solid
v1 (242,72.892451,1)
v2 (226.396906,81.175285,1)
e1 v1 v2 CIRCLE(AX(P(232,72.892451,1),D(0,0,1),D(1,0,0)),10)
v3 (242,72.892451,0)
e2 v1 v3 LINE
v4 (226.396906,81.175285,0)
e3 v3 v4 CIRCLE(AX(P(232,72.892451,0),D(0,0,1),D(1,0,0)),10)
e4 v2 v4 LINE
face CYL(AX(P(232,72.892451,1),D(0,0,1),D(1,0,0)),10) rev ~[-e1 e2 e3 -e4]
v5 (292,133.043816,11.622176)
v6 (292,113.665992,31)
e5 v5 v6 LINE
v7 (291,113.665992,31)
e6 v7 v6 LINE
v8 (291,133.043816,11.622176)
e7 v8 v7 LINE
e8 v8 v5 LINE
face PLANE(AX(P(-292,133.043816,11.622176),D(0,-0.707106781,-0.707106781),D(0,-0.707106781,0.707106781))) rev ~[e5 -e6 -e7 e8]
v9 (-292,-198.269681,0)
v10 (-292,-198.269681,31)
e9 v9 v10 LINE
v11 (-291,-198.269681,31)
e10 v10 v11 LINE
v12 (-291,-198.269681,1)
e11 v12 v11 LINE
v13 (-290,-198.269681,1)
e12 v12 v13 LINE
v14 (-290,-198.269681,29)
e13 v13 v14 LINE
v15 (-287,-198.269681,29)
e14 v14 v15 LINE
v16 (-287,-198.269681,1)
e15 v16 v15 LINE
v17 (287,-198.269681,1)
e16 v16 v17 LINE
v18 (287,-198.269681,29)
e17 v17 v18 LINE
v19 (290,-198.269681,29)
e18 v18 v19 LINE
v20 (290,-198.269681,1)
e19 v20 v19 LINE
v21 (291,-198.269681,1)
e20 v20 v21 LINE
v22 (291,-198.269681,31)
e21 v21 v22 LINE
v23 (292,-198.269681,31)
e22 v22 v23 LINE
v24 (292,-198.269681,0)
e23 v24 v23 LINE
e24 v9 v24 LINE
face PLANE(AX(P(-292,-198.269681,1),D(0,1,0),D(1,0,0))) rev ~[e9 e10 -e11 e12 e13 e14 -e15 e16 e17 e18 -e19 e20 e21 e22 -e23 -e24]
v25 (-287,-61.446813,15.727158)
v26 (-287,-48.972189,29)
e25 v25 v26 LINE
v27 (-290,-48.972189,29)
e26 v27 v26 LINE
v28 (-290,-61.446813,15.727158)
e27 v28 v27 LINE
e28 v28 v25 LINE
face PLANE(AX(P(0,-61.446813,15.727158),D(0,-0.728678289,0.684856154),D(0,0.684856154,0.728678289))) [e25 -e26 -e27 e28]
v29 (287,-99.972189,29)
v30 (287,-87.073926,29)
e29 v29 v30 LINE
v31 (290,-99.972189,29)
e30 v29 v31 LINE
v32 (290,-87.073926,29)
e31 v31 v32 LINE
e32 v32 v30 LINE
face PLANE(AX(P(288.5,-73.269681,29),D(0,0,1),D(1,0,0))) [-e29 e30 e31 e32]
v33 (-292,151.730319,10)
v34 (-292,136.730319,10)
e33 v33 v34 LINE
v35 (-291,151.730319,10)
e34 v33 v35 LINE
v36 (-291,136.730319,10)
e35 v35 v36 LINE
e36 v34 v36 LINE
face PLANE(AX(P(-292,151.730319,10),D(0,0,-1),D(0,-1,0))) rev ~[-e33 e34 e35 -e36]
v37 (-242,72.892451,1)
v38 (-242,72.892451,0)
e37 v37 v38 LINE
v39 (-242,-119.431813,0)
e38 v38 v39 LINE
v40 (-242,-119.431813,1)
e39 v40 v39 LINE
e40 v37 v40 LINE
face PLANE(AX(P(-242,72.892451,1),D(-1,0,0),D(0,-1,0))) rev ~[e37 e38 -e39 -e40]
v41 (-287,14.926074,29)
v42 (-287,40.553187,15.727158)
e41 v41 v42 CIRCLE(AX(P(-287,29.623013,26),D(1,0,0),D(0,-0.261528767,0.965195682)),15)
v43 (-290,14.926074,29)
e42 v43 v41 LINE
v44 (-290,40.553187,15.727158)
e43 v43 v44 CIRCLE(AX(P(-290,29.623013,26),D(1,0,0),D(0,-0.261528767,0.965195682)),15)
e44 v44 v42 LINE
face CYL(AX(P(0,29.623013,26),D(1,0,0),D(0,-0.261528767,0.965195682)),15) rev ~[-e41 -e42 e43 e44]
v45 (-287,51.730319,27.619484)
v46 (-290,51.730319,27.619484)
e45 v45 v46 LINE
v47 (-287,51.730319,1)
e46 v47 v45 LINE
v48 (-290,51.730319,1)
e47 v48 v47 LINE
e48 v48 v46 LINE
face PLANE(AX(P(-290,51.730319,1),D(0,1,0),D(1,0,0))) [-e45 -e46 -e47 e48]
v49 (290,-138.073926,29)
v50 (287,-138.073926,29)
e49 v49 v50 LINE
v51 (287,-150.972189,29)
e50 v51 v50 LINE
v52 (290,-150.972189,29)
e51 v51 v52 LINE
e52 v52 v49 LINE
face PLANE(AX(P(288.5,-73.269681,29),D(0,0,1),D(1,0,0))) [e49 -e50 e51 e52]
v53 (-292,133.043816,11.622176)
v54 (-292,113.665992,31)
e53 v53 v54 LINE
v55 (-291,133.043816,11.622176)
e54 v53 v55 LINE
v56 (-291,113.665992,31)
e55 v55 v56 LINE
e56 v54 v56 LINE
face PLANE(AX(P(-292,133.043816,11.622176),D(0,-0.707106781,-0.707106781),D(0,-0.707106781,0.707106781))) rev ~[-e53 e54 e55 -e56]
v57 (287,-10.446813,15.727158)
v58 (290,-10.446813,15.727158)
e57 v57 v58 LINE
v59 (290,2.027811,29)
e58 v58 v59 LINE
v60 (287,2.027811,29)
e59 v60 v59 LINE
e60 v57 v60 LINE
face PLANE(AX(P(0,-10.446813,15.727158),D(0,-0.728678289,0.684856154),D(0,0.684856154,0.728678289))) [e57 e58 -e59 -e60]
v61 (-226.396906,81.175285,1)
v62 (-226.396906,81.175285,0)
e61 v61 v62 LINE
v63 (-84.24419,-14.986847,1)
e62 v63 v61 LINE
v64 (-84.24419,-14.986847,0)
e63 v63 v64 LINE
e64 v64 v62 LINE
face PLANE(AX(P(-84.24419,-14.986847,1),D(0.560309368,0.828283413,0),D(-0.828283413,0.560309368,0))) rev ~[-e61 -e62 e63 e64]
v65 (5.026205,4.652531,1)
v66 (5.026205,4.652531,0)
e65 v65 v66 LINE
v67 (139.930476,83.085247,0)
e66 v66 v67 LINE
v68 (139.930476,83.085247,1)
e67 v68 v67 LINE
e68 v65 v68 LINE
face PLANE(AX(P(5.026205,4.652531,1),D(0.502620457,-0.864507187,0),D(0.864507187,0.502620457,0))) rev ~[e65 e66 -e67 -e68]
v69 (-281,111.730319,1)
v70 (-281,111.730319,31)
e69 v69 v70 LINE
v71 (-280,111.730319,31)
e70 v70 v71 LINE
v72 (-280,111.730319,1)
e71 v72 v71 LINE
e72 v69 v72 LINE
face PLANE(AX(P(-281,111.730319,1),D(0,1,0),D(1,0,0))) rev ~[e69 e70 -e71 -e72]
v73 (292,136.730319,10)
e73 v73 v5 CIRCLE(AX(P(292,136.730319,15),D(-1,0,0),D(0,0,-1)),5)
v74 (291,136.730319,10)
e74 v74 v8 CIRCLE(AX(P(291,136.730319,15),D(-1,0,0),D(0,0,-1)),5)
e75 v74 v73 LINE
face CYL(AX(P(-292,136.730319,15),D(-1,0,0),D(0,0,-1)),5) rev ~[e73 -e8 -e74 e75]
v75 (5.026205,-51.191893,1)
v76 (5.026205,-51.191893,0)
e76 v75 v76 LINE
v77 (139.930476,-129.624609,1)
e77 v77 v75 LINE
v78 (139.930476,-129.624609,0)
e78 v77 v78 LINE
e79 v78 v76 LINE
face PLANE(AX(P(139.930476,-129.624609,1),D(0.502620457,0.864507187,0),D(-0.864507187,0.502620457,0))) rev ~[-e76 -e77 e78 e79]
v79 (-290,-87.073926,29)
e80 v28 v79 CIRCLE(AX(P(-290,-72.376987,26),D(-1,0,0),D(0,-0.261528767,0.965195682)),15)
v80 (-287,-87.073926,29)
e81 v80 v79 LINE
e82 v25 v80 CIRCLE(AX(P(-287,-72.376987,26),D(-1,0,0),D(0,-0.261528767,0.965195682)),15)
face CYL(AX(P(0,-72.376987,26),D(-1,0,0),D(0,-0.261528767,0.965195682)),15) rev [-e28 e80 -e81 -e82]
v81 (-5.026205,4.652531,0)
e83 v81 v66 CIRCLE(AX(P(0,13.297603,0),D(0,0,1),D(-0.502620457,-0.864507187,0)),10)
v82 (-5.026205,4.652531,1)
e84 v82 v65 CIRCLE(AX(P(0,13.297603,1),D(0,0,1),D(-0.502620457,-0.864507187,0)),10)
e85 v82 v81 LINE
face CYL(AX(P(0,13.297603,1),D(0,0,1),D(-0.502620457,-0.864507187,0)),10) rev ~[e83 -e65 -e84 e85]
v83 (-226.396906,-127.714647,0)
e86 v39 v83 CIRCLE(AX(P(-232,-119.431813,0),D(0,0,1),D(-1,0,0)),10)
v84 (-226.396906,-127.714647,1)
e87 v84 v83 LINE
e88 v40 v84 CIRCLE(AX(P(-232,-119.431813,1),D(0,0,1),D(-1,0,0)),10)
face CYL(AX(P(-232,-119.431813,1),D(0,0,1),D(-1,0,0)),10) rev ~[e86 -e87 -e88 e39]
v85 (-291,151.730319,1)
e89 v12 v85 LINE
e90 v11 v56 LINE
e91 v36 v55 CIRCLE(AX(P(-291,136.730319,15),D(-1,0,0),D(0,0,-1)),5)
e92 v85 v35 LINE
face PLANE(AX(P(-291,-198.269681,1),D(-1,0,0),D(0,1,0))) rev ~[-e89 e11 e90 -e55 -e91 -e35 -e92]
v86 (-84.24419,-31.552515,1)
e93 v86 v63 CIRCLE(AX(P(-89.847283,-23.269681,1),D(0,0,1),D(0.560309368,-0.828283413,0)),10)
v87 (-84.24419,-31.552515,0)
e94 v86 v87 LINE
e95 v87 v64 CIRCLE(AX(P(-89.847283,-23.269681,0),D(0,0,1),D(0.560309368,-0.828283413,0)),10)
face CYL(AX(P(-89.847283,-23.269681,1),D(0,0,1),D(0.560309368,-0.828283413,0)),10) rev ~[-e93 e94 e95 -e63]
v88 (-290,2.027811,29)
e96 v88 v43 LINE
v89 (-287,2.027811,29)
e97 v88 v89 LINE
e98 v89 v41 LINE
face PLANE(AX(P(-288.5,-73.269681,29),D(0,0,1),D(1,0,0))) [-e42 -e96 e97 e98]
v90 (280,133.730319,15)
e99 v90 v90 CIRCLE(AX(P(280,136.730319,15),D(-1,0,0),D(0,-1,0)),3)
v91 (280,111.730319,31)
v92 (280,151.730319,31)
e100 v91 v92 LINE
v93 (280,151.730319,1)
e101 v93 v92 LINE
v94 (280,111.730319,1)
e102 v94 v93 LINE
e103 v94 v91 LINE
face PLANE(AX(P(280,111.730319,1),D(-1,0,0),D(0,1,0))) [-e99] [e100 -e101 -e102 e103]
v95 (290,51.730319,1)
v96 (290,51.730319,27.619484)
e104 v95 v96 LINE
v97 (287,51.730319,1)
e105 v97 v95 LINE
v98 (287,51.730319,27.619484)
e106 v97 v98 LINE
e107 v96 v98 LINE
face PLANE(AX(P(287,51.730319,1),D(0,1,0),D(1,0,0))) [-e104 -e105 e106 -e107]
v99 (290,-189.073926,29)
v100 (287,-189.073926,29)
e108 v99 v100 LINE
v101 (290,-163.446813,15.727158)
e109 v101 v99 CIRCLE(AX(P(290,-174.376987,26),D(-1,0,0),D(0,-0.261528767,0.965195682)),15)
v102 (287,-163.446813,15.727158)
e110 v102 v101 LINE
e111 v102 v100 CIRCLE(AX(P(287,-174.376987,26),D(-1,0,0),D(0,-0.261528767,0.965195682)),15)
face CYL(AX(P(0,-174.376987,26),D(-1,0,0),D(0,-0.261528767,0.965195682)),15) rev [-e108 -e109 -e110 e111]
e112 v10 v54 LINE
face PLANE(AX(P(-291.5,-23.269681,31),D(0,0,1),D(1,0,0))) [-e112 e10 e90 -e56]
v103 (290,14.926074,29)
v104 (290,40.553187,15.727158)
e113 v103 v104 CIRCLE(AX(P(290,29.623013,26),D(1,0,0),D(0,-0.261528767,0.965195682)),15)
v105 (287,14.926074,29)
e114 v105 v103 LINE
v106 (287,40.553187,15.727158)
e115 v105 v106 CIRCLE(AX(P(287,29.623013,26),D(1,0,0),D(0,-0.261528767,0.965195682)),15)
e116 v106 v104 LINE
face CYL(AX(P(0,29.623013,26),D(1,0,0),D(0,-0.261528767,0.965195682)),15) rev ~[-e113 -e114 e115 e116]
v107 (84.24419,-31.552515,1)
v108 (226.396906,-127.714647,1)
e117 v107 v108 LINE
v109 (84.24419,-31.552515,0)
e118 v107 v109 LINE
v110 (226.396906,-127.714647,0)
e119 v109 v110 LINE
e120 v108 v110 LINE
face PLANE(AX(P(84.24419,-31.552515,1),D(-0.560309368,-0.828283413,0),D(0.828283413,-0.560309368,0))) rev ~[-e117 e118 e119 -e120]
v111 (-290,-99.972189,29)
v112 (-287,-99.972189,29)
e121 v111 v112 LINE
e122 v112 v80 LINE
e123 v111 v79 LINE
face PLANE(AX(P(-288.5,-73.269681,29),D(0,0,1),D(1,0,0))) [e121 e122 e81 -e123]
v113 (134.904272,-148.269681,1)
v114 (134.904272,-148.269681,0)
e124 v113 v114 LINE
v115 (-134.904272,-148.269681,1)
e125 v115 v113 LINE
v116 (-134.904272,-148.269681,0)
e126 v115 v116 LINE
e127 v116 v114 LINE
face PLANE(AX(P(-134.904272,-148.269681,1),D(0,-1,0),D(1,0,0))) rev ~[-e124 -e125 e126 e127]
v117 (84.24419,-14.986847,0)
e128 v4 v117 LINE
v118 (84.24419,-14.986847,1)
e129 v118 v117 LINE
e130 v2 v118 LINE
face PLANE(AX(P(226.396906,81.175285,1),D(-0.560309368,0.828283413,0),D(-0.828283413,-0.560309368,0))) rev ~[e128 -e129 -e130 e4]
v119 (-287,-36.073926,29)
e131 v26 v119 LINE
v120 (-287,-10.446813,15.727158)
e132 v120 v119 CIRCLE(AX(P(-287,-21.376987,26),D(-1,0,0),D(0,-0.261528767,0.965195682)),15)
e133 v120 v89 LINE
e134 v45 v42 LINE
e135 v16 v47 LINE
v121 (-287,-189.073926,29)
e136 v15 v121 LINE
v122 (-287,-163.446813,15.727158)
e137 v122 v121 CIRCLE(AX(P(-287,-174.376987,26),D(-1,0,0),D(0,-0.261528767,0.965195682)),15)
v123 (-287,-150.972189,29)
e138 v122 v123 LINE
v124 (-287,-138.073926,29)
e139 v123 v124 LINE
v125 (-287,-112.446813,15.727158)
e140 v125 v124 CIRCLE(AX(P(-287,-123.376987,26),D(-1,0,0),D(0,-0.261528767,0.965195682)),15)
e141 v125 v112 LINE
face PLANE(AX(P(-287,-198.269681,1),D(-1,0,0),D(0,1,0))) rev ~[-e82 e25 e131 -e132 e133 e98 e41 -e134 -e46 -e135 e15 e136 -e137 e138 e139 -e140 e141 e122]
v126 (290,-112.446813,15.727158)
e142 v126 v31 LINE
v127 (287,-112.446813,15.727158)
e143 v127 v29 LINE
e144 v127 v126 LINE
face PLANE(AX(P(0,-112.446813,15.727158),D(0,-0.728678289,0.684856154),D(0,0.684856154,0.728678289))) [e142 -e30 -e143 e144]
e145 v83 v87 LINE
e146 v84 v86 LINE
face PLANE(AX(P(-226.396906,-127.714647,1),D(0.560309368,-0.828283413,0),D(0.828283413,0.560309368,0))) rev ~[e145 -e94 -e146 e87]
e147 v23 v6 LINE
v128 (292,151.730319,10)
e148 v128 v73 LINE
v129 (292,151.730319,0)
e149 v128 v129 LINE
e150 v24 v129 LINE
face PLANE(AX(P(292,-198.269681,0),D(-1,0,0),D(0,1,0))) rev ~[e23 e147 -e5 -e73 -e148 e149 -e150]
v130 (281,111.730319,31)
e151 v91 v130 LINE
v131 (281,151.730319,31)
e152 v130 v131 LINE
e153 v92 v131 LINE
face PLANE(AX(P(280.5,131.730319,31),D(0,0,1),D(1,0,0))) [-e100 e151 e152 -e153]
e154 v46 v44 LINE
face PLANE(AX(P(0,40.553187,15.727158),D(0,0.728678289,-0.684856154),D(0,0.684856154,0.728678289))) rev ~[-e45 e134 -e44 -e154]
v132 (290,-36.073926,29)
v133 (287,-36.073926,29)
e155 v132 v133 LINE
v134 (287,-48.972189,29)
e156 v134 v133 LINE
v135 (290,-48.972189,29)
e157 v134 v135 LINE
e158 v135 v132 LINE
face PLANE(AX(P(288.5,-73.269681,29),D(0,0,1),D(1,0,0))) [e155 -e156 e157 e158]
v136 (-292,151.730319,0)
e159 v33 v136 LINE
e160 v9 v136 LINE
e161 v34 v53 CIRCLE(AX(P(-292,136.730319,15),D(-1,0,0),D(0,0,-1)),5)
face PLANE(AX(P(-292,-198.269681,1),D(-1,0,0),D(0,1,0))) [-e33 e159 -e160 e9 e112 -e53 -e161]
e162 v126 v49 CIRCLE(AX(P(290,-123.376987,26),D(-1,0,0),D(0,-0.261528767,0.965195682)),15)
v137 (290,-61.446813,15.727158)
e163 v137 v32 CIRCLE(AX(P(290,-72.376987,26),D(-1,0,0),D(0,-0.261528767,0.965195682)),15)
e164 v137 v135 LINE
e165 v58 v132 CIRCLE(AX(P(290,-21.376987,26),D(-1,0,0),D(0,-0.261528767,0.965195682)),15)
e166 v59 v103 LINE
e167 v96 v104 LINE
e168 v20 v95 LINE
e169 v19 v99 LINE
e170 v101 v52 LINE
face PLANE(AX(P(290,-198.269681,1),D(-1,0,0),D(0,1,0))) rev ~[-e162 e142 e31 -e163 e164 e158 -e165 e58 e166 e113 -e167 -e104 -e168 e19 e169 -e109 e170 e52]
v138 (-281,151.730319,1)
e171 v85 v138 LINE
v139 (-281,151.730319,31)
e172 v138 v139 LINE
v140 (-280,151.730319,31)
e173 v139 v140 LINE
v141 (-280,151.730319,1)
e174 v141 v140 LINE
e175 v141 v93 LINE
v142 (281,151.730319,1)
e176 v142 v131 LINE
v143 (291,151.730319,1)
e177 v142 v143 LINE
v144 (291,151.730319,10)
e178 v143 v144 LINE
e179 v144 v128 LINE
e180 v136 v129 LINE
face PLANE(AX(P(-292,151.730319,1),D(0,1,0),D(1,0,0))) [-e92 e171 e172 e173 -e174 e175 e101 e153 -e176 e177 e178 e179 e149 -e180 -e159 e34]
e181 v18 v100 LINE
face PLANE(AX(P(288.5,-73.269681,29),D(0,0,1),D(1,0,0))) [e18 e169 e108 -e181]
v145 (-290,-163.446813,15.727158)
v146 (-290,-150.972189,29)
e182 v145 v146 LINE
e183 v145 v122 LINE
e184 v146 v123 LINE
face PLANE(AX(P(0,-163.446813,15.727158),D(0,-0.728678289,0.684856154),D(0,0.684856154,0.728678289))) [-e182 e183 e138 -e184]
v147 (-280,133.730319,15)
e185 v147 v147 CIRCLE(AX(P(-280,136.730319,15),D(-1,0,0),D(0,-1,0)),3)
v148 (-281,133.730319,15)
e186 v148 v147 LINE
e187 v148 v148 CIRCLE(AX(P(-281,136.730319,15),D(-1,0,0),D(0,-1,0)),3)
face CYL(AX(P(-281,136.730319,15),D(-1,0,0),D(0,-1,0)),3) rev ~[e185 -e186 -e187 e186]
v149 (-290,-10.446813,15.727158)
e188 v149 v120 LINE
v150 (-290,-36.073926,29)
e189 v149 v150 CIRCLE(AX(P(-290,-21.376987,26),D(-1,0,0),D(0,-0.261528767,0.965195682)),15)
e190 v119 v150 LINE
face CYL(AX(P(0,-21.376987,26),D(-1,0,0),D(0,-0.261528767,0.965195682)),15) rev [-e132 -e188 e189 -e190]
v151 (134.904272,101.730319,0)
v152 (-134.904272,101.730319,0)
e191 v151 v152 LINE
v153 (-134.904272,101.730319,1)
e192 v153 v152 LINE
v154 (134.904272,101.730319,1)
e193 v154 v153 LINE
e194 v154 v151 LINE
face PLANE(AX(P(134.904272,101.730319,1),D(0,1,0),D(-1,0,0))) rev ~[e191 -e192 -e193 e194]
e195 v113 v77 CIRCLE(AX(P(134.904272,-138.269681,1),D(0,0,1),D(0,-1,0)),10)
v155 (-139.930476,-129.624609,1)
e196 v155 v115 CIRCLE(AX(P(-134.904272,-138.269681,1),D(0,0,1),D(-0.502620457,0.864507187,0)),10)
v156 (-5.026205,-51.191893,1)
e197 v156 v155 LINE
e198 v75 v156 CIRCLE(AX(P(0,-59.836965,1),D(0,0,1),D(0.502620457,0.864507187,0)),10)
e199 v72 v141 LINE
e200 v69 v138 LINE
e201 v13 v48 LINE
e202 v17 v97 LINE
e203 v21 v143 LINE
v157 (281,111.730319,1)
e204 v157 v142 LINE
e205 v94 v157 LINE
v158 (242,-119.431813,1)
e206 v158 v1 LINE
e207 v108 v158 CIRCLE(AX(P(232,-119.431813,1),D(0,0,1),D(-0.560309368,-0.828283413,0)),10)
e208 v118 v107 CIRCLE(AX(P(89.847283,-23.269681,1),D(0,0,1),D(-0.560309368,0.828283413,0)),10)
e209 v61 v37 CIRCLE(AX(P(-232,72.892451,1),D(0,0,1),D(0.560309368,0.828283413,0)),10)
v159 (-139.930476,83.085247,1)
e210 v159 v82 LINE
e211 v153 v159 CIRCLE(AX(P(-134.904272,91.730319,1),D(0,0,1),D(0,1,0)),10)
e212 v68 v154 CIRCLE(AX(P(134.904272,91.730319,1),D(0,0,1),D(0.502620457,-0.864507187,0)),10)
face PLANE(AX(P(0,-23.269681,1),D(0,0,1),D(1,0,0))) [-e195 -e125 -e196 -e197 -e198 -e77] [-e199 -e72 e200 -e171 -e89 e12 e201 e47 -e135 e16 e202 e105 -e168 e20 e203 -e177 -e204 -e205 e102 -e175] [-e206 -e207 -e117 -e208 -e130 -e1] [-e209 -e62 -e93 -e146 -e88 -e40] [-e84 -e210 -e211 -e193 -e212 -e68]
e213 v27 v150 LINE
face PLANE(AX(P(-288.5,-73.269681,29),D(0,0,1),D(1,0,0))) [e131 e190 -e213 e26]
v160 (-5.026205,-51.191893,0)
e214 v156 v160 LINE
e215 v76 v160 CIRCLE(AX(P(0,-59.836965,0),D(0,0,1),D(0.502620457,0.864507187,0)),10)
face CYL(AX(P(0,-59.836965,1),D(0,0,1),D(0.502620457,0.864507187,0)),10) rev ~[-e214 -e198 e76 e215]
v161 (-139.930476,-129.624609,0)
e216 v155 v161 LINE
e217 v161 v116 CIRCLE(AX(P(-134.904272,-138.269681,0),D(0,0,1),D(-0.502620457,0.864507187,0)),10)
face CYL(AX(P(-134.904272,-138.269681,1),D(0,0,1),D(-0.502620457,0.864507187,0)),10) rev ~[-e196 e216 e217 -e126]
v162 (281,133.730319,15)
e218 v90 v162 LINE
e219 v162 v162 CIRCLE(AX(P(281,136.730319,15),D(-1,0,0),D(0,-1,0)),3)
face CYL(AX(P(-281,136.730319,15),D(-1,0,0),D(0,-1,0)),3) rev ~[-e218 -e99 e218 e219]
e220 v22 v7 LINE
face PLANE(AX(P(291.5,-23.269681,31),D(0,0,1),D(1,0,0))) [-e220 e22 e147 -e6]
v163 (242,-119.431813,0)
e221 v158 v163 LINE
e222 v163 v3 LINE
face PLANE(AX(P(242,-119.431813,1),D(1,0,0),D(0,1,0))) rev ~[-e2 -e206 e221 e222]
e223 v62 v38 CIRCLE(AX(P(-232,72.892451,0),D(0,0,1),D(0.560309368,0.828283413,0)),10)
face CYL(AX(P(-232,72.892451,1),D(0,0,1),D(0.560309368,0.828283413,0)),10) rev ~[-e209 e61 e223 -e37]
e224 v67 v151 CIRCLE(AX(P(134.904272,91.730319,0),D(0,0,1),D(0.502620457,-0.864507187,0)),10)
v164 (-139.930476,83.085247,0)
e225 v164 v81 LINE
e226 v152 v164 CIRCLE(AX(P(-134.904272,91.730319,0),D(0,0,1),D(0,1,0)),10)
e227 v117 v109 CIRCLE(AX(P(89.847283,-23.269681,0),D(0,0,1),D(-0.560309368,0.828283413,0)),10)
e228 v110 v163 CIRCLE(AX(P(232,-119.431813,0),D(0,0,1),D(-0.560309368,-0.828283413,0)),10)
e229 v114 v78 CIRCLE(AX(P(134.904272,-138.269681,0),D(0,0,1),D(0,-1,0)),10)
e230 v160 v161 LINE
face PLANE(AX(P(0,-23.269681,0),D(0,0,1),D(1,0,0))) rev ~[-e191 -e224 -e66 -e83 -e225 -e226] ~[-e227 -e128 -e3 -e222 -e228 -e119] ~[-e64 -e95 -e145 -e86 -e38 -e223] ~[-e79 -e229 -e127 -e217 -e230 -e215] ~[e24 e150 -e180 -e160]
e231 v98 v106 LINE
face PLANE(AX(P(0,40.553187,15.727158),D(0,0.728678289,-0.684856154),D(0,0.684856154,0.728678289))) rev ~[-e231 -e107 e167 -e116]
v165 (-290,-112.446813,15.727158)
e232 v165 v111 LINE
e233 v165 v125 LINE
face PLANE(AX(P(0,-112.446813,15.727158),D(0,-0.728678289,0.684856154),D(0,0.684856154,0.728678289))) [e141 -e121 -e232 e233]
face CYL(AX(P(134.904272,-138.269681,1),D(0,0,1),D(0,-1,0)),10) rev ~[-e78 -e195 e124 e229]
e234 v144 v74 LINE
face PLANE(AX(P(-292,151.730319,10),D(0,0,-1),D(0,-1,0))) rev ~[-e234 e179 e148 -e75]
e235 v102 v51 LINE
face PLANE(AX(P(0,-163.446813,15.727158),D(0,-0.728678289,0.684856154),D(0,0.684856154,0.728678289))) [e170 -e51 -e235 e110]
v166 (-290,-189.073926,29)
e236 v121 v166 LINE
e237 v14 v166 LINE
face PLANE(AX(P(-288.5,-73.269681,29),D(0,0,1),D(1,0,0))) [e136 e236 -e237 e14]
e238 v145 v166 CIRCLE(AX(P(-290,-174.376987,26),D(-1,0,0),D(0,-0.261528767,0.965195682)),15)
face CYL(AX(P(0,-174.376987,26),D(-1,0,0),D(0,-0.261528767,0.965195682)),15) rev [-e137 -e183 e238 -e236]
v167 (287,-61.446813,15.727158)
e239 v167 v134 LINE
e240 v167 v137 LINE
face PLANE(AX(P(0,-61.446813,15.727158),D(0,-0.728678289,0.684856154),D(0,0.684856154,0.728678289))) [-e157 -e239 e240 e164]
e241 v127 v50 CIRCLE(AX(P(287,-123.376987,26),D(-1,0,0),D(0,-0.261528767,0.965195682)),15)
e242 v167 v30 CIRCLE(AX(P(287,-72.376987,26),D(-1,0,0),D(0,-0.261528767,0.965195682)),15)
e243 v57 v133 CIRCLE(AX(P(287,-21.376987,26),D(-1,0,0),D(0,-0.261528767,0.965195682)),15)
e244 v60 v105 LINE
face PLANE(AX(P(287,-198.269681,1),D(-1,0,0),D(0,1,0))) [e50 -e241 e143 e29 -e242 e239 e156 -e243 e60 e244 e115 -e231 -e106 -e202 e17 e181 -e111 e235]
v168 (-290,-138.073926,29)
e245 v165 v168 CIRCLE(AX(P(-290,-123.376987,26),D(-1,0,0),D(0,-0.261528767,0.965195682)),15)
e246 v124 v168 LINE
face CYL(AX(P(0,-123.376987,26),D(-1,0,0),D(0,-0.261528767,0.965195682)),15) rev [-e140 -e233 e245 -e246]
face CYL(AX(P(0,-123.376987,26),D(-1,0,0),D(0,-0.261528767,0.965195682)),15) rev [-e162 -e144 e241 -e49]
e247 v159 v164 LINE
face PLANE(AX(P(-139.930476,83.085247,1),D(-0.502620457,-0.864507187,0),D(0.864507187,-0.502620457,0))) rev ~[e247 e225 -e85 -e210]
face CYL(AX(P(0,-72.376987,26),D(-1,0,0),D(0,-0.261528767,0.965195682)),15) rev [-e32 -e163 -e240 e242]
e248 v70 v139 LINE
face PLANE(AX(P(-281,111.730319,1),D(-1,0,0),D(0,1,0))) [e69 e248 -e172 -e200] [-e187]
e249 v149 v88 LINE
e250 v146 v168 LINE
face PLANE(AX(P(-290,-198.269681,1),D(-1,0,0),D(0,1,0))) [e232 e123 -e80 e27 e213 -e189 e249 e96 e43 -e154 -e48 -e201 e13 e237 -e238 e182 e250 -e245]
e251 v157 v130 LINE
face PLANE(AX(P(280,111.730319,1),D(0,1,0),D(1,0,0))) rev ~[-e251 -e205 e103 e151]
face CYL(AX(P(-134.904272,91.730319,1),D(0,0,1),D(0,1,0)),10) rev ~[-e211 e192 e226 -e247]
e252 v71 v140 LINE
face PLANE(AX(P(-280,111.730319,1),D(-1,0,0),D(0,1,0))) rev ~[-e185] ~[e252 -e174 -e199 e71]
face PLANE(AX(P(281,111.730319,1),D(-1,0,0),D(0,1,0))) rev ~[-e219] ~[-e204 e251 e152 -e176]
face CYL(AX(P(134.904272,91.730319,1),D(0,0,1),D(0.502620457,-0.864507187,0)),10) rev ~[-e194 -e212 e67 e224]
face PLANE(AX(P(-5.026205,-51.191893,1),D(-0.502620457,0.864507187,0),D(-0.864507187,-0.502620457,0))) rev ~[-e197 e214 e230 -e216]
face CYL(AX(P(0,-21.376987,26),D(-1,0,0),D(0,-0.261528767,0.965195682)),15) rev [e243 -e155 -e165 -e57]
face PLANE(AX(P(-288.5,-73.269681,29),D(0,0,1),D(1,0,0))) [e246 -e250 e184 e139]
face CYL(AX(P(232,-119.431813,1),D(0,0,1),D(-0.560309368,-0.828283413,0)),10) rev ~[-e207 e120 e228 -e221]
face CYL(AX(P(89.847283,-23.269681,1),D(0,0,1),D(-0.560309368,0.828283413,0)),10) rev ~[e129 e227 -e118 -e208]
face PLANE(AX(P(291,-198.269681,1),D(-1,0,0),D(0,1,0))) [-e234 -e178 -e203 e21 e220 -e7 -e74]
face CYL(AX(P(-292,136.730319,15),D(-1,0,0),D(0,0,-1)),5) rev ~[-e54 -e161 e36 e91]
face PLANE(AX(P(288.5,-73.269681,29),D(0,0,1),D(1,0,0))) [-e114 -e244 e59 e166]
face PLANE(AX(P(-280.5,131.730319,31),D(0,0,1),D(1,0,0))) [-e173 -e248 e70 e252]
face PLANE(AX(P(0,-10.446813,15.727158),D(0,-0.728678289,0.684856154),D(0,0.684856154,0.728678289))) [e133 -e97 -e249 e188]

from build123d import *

# Parameters (mm, degrees)
F0_W      = 584
F0_H      = 350
F1_DEPTH  = 1
F2_W      = 1
F2_H      = 350
F3_DEPTH  = 30
F5_DEPTH  = 645
F6_W      = 1
F6_H      = 40
F7_DEPTH  = 30
F8_R      = 3
F9_DEPTH  = 565
F10_W     = 3
F10_H     = 250
F11_DEPTH = 28
F13_DEPTH = 291
F15_DEPTH = 25


with BuildPart() as f1:
    # F0 (on Top) → F1 (new body)
    with BuildSketch(Plane.XY):
        with Locations((0, -23.2696812643)):
            Rectangle(F0_W, F0_H)
    extrude(amount=F1_DEPTH)

    # F2 (on face) → F3 (join)
    with BuildSketch(Plane.XY.offset(1)):
        with Locations((-291.5, -23.2696812643)):
            Rectangle(F2_W, F2_H)
        with Locations((291.5, -23.2696812643)):
            Rectangle(F2_W, F2_H)
    extrude(amount=F3_DEPTH)

    # F4 (on face) → F5 (cut)
    with BuildSketch(Plane(origin=(-292, 0, 0), x_dir=(0, -1, 0), z_dir=(-1, 0, 0))):
        with BuildLine():
            Line((-136.7303187357, 15), (-136.7303187357, 10))
            ThreePointArc((-136.7303187357, 10), (-134.7165063478, 10.423477339), (-133.0438155245, 11.6221761335))
            ThreePointArc((-133.0438155245, 11.6221761335), (-132.0702481324, 13.1878901877), (-131.7303187357, 15))
            ThreePointArc((-131.7303187357, 15), (-132.1109210732, 16.9134171618), (-133.1947848298, 18.5355339059))
            Line((-133.1947848298, 18.5355339059), (-136.7303187357, 15))
        make_face()
        with BuildLine():
            Line((-151.7303187357, 10), (-136.7303187357, 10))
            ThreePointArc((-136.7303187357, 10), (-141.3497163983, 16.9134171618), (-133.1947848298, 18.5355339059))
            Line((-133.1947848298, 18.5355339059), (-120.7303187357, 31))
            Line((-120.7303187357, 31), (-151.7303187357, 31))
            Line((-151.7303187357, 31), (-151.7303187357, 10))
        make_face()
        with BuildLine():
            ThreePointArc((-133.1947848298, 18.5355339059), (-141.3497163983, 16.9134171618), (-136.7303187357, 10))
            Line((-136.7303187357, 10), (-136.7303187357, 15))
            Line((-136.7303187357, 15), (-133.1947848298, 18.5355339059))
        make_face()
        with BuildLine():
            ThreePointArc((-131.7303187357, 15), (-132.0702481324, 13.1878901877), (-133.0438155245, 11.6221761335))
            Line((-133.0438155245, 11.6221761335), (-113.6659916579, 31))
            Line((-113.6659916579, 31), (-120.7303187357, 31))
            Line((-120.7303187357, 31), (-133.1947848298, 18.5355339059))
            ThreePointArc((-133.1947848298, 18.5355339059), (-132.1109210732, 16.9134171618), (-131.7303187357, 15))
        make_face()
    extrude(amount=-F5_DEPTH, mode=Mode.SUBTRACT)

    # F6 (on face) → F7 (join)
    with BuildSketch(Plane.XY.offset(1)):
        with Locations((-280.5, 131.7303187357)):
            Rectangle(F6_W, F6_H)
        with Locations((280.5, 131.7303187357)):
            Rectangle(F6_W, F6_H)
    extrude(amount=F7_DEPTH)

    # F8 (on face) → F9 (cut)
    with BuildSketch(Plane(origin=(-281, 0, 0), x_dir=(0, -1, 0), z_dir=(-1, 0, 0))):
        with Locations((-136.7303187357, 15)):
            Circle(F8_R)
    extrude(amount=-F9_DEPTH, mode=Mode.SUBTRACT)

    # F10 (on face) → F11 (join)
    with BuildSketch(Plane.XY.offset(1)):
        with Locations((-288.5, -73.2696812643)):
            Rectangle(F10_W, F10_H)
        with Locations((288.5, -73.2696812643)):
            Rectangle(F10_W, F10_H)
    extrude(amount=F11_DEPTH)

    # F12 (on Right) → F13 (cut, symmetric)
    with BuildSketch(Plane.YZ):
        with BuildLine():
            ThreePointArc((-163.4468129313, 15.7271576906), (-160.4315110244, 20.4751748875), (-159.3769872614, 26))
            ThreePointArc((-159.3769872614, 26), (-165.262273131, 37.9131014568), (-178.2999187708, 40.4779352248))
            ThreePointArc((-178.2999187708, 40.4779352248), (-187.238776022, 18.2815552164), (-163.4468129313, 15.7271576906))
        make_face()
        with BuildLine():
            ThreePointArc((-178.2999187708, 40.4779352248), (-165.262273131, 37.9131014568), (-159.3769872614, 26))
            ThreePointArc((-159.3769872614, 26), (-160.4315110244, 20.4751748875), (-163.4468129313, 15.7271576906))
            Line((-163.4468129313, 15.7271576906), (-125.9341510427, 55.6401556402))
            Line((-125.9341510427, 55.6401556402), (-178.2999187708, 40.4779352248))
        make_face()
        with BuildLine():
            ThreePointArc((-112.4468129313, 15.7271576906), (-109.4315110244, 20.4751748875), (-108.3769872614, 26))
            ThreePointArc((-108.3769872614, 26), (-114.262273131, 37.9131014568), (-127.2999187708, 40.4779352248))
            ThreePointArc((-127.2999187708, 40.4779352248), (-136.238776022, 18.2815552164), (-112.4468129313, 15.7271576906))
        make_face()
        with BuildLine():
            ThreePointArc((-127.2999187708, 40.4779352248), (-114.262273131, 37.9131014568), (-108.3769872614, 26))
            ThreePointArc((-108.3769872614, 26), (-109.4315110244, 20.4751748875), (-112.4468129313, 15.7271576906))
            Line((-112.4468129313, 15.7271576906), (-74.9341510427, 55.6401556402))
            Line((-74.9341510427, 55.6401556402), (-127.2999187708, 40.4779352248))
        make_face()
        with BuildLine():
            ThreePointArc((-61.4468129313, 15.7271576906), (-58.4315110244, 20.4751748875), (-57.3769872614, 26))
            ThreePointArc((-57.3769872614, 26), (-63.262273131, 37.9131014568), (-76.2999187708, 40.4779352248))
            ThreePointArc((-76.2999187708, 40.4779352248), (-85.238776022, 18.2815552164), (-61.4468129313, 15.7271576906))
        make_face()
        with BuildLine():
            ThreePointArc((-76.2999187708, 40.4779352248), (-63.262273131, 37.9131014568), (-57.3769872614, 26))
            ThreePointArc((-57.3769872614, 26), (-58.4315110244, 20.4751748875), (-61.4468129313, 15.7271576906))
            Line((-61.4468129313, 15.7271576906), (-23.9341510427, 55.6401556402))
            Line((-23.9341510427, 55.6401556402), (-76.2999187708, 40.4779352248))
        make_face()
        with BuildLine():
            ThreePointArc((-10.4468129313, 15.7271576906), (-7.4315110244, 20.4751748875), (-6.3769872614, 26))
            ThreePointArc((-6.3769872614, 26), (-12.262273131, 37.9131014568), (-25.2999187708, 40.4779352248))
            ThreePointArc((-25.2999187708, 40.4779352248), (-34.238776022, 18.2815552164), (-10.4468129313, 15.7271576906))
        make_face()
        with BuildLine():
            ThreePointArc((-25.2999187708, 40.4779352248), (-12.262273131, 37.9131014568), (-6.3769872614, 26))
            ThreePointArc((-6.3769872614, 26), (-7.4315110244, 20.4751748875), (-10.4468129313, 15.7271576906))
            Line((-10.4468129313, 15.7271576906), (27.0658489573, 55.6401556402))
            Line((27.0658489573, 55.6401556402), (-25.2999187708, 40.4779352248))
        make_face()
        with BuildLine():
            ThreePointArc((40.5531870687, 15.7271576906), (43.5684889756, 20.4751748875), (44.6230127386, 26))
            ThreePointArc((44.6230127386, 26), (38.737726869, 37.9131014568), (25.7000812292, 40.4779352248))
            ThreePointArc((25.7000812292, 40.4779352248), (16.761223978, 18.2815552164), (40.5531870687, 15.7271576906))
        make_face()
        with BuildLine():
            ThreePointArc((25.7000812292, 40.4779352248), (38.737726869, 37.9131014568), (44.6230127386, 26))
            ThreePointArc((44.6230127386, 26), (43.5684889756, 20.4751748875), (40.5531870687, 15.7271576906))
            Line((40.5531870687, 15.7271576906), (78.0658489573, 55.6401556402))
            Line((78.0658489573, 55.6401556402), (25.7000812292, 40.4779352248))
        make_face()
    extrude(amount=F13_DEPTH, both=True, mode=Mode.SUBTRACT)

    # F14 (on face) → F15 (cut)
    with BuildSketch(Plane.XY.offset(1)):
        with BuildLine():
            ThreePointArc((-134.9042718153, 101.7303187357), (-144.5595998436, 94.3331327256), (-139.930476389, 83.0852468689))
            Line((-139.930476389, 83.0852468689), (-5.0262045737, 4.6525306972))
            ThreePointArc((-5.0262045737, 4.6525306972), (0, 3.297602564), (5.0262045737, 4.6525306972))
            Line((5.0262045737, 4.6525306972), (139.930476389, 83.0852468689))
            ThreePointArc((139.930476389, 83.0852468689), (144.5595998436, 94.3331327256), (134.9042718153, 101.7303187357))
            Line((134.9042718153, 101.7303187357), (-134.9042718153, 101.7303187357))
        make_face()
        with BuildLine():
            Line((-5.0262045737, -51.1918932258), (-139.930476389, -129.6246093974))
            ThreePointArc((-139.930476389, -129.6246093974), (-144.5595998436, -140.8724952541), (-134.9042718153, -148.2696812643))
            Line((-134.9042718153, -148.2696812643), (134.9042718153, -148.2696812643))
            ThreePointArc((134.9042718153, -148.2696812643), (144.5595998436, -140.8724952541), (139.930476389, -129.6246093974))
            Line((139.930476389, -129.6246093974), (5.0262045737, -51.1918932258))
            ThreePointArc((5.0262045737, -51.1918932258), (0, -49.8369650926), (-5.0262045737, -51.1918932258))
        make_face()
        with BuildLine():
            Line((-84.2441895854, -14.986847133), (-226.396906323, 81.1752847777))
            ThreePointArc((-226.396906323, 81.1752847777), (-236.6887665345, 81.7250871942), (-242, 72.8924506464))
            Line((-242, 72.8924506464), (-242, -119.431813175))
            ThreePointArc((-242, -119.431813175), (-236.6887665345, -128.2644497228), (-226.396906323, -127.7146473063))
            Line((-226.396906323, -127.7146473063), (-84.2441895854, -31.5525153956))
            ThreePointArc((-84.2441895854, -31.5525153956), (-79.8472832624, -23.2696812643), (-84.2441895854, -14.986847133))
        make_face()
        with BuildLine():
            Line((226.396906323, 81.1752847777), (84.2441895854, -14.986847133))
            ThreePointArc((84.2441895854, -14.986847133), (79.8472832624, -23.2696812643), (84.2441895854, -31.5525153956))
            Line((84.2441895854, -31.5525153956), (226.396906323, -127.7146473063))
            ThreePointArc((226.396906323, -127.7146473063), (236.6887665345, -128.2644497228), (242, -119.431813175))
            Line((242, -119.431813175), (242, 72.8924506464))
            ThreePointArc((242, 72.8924506464), (236.6887665345, 81.7250871942), (226.396906323, 81.1752847777))
        make_face()
    extrude(amount=-F15_DEPTH, mode=Mode.SUBTRACT)


solid = f1.part
